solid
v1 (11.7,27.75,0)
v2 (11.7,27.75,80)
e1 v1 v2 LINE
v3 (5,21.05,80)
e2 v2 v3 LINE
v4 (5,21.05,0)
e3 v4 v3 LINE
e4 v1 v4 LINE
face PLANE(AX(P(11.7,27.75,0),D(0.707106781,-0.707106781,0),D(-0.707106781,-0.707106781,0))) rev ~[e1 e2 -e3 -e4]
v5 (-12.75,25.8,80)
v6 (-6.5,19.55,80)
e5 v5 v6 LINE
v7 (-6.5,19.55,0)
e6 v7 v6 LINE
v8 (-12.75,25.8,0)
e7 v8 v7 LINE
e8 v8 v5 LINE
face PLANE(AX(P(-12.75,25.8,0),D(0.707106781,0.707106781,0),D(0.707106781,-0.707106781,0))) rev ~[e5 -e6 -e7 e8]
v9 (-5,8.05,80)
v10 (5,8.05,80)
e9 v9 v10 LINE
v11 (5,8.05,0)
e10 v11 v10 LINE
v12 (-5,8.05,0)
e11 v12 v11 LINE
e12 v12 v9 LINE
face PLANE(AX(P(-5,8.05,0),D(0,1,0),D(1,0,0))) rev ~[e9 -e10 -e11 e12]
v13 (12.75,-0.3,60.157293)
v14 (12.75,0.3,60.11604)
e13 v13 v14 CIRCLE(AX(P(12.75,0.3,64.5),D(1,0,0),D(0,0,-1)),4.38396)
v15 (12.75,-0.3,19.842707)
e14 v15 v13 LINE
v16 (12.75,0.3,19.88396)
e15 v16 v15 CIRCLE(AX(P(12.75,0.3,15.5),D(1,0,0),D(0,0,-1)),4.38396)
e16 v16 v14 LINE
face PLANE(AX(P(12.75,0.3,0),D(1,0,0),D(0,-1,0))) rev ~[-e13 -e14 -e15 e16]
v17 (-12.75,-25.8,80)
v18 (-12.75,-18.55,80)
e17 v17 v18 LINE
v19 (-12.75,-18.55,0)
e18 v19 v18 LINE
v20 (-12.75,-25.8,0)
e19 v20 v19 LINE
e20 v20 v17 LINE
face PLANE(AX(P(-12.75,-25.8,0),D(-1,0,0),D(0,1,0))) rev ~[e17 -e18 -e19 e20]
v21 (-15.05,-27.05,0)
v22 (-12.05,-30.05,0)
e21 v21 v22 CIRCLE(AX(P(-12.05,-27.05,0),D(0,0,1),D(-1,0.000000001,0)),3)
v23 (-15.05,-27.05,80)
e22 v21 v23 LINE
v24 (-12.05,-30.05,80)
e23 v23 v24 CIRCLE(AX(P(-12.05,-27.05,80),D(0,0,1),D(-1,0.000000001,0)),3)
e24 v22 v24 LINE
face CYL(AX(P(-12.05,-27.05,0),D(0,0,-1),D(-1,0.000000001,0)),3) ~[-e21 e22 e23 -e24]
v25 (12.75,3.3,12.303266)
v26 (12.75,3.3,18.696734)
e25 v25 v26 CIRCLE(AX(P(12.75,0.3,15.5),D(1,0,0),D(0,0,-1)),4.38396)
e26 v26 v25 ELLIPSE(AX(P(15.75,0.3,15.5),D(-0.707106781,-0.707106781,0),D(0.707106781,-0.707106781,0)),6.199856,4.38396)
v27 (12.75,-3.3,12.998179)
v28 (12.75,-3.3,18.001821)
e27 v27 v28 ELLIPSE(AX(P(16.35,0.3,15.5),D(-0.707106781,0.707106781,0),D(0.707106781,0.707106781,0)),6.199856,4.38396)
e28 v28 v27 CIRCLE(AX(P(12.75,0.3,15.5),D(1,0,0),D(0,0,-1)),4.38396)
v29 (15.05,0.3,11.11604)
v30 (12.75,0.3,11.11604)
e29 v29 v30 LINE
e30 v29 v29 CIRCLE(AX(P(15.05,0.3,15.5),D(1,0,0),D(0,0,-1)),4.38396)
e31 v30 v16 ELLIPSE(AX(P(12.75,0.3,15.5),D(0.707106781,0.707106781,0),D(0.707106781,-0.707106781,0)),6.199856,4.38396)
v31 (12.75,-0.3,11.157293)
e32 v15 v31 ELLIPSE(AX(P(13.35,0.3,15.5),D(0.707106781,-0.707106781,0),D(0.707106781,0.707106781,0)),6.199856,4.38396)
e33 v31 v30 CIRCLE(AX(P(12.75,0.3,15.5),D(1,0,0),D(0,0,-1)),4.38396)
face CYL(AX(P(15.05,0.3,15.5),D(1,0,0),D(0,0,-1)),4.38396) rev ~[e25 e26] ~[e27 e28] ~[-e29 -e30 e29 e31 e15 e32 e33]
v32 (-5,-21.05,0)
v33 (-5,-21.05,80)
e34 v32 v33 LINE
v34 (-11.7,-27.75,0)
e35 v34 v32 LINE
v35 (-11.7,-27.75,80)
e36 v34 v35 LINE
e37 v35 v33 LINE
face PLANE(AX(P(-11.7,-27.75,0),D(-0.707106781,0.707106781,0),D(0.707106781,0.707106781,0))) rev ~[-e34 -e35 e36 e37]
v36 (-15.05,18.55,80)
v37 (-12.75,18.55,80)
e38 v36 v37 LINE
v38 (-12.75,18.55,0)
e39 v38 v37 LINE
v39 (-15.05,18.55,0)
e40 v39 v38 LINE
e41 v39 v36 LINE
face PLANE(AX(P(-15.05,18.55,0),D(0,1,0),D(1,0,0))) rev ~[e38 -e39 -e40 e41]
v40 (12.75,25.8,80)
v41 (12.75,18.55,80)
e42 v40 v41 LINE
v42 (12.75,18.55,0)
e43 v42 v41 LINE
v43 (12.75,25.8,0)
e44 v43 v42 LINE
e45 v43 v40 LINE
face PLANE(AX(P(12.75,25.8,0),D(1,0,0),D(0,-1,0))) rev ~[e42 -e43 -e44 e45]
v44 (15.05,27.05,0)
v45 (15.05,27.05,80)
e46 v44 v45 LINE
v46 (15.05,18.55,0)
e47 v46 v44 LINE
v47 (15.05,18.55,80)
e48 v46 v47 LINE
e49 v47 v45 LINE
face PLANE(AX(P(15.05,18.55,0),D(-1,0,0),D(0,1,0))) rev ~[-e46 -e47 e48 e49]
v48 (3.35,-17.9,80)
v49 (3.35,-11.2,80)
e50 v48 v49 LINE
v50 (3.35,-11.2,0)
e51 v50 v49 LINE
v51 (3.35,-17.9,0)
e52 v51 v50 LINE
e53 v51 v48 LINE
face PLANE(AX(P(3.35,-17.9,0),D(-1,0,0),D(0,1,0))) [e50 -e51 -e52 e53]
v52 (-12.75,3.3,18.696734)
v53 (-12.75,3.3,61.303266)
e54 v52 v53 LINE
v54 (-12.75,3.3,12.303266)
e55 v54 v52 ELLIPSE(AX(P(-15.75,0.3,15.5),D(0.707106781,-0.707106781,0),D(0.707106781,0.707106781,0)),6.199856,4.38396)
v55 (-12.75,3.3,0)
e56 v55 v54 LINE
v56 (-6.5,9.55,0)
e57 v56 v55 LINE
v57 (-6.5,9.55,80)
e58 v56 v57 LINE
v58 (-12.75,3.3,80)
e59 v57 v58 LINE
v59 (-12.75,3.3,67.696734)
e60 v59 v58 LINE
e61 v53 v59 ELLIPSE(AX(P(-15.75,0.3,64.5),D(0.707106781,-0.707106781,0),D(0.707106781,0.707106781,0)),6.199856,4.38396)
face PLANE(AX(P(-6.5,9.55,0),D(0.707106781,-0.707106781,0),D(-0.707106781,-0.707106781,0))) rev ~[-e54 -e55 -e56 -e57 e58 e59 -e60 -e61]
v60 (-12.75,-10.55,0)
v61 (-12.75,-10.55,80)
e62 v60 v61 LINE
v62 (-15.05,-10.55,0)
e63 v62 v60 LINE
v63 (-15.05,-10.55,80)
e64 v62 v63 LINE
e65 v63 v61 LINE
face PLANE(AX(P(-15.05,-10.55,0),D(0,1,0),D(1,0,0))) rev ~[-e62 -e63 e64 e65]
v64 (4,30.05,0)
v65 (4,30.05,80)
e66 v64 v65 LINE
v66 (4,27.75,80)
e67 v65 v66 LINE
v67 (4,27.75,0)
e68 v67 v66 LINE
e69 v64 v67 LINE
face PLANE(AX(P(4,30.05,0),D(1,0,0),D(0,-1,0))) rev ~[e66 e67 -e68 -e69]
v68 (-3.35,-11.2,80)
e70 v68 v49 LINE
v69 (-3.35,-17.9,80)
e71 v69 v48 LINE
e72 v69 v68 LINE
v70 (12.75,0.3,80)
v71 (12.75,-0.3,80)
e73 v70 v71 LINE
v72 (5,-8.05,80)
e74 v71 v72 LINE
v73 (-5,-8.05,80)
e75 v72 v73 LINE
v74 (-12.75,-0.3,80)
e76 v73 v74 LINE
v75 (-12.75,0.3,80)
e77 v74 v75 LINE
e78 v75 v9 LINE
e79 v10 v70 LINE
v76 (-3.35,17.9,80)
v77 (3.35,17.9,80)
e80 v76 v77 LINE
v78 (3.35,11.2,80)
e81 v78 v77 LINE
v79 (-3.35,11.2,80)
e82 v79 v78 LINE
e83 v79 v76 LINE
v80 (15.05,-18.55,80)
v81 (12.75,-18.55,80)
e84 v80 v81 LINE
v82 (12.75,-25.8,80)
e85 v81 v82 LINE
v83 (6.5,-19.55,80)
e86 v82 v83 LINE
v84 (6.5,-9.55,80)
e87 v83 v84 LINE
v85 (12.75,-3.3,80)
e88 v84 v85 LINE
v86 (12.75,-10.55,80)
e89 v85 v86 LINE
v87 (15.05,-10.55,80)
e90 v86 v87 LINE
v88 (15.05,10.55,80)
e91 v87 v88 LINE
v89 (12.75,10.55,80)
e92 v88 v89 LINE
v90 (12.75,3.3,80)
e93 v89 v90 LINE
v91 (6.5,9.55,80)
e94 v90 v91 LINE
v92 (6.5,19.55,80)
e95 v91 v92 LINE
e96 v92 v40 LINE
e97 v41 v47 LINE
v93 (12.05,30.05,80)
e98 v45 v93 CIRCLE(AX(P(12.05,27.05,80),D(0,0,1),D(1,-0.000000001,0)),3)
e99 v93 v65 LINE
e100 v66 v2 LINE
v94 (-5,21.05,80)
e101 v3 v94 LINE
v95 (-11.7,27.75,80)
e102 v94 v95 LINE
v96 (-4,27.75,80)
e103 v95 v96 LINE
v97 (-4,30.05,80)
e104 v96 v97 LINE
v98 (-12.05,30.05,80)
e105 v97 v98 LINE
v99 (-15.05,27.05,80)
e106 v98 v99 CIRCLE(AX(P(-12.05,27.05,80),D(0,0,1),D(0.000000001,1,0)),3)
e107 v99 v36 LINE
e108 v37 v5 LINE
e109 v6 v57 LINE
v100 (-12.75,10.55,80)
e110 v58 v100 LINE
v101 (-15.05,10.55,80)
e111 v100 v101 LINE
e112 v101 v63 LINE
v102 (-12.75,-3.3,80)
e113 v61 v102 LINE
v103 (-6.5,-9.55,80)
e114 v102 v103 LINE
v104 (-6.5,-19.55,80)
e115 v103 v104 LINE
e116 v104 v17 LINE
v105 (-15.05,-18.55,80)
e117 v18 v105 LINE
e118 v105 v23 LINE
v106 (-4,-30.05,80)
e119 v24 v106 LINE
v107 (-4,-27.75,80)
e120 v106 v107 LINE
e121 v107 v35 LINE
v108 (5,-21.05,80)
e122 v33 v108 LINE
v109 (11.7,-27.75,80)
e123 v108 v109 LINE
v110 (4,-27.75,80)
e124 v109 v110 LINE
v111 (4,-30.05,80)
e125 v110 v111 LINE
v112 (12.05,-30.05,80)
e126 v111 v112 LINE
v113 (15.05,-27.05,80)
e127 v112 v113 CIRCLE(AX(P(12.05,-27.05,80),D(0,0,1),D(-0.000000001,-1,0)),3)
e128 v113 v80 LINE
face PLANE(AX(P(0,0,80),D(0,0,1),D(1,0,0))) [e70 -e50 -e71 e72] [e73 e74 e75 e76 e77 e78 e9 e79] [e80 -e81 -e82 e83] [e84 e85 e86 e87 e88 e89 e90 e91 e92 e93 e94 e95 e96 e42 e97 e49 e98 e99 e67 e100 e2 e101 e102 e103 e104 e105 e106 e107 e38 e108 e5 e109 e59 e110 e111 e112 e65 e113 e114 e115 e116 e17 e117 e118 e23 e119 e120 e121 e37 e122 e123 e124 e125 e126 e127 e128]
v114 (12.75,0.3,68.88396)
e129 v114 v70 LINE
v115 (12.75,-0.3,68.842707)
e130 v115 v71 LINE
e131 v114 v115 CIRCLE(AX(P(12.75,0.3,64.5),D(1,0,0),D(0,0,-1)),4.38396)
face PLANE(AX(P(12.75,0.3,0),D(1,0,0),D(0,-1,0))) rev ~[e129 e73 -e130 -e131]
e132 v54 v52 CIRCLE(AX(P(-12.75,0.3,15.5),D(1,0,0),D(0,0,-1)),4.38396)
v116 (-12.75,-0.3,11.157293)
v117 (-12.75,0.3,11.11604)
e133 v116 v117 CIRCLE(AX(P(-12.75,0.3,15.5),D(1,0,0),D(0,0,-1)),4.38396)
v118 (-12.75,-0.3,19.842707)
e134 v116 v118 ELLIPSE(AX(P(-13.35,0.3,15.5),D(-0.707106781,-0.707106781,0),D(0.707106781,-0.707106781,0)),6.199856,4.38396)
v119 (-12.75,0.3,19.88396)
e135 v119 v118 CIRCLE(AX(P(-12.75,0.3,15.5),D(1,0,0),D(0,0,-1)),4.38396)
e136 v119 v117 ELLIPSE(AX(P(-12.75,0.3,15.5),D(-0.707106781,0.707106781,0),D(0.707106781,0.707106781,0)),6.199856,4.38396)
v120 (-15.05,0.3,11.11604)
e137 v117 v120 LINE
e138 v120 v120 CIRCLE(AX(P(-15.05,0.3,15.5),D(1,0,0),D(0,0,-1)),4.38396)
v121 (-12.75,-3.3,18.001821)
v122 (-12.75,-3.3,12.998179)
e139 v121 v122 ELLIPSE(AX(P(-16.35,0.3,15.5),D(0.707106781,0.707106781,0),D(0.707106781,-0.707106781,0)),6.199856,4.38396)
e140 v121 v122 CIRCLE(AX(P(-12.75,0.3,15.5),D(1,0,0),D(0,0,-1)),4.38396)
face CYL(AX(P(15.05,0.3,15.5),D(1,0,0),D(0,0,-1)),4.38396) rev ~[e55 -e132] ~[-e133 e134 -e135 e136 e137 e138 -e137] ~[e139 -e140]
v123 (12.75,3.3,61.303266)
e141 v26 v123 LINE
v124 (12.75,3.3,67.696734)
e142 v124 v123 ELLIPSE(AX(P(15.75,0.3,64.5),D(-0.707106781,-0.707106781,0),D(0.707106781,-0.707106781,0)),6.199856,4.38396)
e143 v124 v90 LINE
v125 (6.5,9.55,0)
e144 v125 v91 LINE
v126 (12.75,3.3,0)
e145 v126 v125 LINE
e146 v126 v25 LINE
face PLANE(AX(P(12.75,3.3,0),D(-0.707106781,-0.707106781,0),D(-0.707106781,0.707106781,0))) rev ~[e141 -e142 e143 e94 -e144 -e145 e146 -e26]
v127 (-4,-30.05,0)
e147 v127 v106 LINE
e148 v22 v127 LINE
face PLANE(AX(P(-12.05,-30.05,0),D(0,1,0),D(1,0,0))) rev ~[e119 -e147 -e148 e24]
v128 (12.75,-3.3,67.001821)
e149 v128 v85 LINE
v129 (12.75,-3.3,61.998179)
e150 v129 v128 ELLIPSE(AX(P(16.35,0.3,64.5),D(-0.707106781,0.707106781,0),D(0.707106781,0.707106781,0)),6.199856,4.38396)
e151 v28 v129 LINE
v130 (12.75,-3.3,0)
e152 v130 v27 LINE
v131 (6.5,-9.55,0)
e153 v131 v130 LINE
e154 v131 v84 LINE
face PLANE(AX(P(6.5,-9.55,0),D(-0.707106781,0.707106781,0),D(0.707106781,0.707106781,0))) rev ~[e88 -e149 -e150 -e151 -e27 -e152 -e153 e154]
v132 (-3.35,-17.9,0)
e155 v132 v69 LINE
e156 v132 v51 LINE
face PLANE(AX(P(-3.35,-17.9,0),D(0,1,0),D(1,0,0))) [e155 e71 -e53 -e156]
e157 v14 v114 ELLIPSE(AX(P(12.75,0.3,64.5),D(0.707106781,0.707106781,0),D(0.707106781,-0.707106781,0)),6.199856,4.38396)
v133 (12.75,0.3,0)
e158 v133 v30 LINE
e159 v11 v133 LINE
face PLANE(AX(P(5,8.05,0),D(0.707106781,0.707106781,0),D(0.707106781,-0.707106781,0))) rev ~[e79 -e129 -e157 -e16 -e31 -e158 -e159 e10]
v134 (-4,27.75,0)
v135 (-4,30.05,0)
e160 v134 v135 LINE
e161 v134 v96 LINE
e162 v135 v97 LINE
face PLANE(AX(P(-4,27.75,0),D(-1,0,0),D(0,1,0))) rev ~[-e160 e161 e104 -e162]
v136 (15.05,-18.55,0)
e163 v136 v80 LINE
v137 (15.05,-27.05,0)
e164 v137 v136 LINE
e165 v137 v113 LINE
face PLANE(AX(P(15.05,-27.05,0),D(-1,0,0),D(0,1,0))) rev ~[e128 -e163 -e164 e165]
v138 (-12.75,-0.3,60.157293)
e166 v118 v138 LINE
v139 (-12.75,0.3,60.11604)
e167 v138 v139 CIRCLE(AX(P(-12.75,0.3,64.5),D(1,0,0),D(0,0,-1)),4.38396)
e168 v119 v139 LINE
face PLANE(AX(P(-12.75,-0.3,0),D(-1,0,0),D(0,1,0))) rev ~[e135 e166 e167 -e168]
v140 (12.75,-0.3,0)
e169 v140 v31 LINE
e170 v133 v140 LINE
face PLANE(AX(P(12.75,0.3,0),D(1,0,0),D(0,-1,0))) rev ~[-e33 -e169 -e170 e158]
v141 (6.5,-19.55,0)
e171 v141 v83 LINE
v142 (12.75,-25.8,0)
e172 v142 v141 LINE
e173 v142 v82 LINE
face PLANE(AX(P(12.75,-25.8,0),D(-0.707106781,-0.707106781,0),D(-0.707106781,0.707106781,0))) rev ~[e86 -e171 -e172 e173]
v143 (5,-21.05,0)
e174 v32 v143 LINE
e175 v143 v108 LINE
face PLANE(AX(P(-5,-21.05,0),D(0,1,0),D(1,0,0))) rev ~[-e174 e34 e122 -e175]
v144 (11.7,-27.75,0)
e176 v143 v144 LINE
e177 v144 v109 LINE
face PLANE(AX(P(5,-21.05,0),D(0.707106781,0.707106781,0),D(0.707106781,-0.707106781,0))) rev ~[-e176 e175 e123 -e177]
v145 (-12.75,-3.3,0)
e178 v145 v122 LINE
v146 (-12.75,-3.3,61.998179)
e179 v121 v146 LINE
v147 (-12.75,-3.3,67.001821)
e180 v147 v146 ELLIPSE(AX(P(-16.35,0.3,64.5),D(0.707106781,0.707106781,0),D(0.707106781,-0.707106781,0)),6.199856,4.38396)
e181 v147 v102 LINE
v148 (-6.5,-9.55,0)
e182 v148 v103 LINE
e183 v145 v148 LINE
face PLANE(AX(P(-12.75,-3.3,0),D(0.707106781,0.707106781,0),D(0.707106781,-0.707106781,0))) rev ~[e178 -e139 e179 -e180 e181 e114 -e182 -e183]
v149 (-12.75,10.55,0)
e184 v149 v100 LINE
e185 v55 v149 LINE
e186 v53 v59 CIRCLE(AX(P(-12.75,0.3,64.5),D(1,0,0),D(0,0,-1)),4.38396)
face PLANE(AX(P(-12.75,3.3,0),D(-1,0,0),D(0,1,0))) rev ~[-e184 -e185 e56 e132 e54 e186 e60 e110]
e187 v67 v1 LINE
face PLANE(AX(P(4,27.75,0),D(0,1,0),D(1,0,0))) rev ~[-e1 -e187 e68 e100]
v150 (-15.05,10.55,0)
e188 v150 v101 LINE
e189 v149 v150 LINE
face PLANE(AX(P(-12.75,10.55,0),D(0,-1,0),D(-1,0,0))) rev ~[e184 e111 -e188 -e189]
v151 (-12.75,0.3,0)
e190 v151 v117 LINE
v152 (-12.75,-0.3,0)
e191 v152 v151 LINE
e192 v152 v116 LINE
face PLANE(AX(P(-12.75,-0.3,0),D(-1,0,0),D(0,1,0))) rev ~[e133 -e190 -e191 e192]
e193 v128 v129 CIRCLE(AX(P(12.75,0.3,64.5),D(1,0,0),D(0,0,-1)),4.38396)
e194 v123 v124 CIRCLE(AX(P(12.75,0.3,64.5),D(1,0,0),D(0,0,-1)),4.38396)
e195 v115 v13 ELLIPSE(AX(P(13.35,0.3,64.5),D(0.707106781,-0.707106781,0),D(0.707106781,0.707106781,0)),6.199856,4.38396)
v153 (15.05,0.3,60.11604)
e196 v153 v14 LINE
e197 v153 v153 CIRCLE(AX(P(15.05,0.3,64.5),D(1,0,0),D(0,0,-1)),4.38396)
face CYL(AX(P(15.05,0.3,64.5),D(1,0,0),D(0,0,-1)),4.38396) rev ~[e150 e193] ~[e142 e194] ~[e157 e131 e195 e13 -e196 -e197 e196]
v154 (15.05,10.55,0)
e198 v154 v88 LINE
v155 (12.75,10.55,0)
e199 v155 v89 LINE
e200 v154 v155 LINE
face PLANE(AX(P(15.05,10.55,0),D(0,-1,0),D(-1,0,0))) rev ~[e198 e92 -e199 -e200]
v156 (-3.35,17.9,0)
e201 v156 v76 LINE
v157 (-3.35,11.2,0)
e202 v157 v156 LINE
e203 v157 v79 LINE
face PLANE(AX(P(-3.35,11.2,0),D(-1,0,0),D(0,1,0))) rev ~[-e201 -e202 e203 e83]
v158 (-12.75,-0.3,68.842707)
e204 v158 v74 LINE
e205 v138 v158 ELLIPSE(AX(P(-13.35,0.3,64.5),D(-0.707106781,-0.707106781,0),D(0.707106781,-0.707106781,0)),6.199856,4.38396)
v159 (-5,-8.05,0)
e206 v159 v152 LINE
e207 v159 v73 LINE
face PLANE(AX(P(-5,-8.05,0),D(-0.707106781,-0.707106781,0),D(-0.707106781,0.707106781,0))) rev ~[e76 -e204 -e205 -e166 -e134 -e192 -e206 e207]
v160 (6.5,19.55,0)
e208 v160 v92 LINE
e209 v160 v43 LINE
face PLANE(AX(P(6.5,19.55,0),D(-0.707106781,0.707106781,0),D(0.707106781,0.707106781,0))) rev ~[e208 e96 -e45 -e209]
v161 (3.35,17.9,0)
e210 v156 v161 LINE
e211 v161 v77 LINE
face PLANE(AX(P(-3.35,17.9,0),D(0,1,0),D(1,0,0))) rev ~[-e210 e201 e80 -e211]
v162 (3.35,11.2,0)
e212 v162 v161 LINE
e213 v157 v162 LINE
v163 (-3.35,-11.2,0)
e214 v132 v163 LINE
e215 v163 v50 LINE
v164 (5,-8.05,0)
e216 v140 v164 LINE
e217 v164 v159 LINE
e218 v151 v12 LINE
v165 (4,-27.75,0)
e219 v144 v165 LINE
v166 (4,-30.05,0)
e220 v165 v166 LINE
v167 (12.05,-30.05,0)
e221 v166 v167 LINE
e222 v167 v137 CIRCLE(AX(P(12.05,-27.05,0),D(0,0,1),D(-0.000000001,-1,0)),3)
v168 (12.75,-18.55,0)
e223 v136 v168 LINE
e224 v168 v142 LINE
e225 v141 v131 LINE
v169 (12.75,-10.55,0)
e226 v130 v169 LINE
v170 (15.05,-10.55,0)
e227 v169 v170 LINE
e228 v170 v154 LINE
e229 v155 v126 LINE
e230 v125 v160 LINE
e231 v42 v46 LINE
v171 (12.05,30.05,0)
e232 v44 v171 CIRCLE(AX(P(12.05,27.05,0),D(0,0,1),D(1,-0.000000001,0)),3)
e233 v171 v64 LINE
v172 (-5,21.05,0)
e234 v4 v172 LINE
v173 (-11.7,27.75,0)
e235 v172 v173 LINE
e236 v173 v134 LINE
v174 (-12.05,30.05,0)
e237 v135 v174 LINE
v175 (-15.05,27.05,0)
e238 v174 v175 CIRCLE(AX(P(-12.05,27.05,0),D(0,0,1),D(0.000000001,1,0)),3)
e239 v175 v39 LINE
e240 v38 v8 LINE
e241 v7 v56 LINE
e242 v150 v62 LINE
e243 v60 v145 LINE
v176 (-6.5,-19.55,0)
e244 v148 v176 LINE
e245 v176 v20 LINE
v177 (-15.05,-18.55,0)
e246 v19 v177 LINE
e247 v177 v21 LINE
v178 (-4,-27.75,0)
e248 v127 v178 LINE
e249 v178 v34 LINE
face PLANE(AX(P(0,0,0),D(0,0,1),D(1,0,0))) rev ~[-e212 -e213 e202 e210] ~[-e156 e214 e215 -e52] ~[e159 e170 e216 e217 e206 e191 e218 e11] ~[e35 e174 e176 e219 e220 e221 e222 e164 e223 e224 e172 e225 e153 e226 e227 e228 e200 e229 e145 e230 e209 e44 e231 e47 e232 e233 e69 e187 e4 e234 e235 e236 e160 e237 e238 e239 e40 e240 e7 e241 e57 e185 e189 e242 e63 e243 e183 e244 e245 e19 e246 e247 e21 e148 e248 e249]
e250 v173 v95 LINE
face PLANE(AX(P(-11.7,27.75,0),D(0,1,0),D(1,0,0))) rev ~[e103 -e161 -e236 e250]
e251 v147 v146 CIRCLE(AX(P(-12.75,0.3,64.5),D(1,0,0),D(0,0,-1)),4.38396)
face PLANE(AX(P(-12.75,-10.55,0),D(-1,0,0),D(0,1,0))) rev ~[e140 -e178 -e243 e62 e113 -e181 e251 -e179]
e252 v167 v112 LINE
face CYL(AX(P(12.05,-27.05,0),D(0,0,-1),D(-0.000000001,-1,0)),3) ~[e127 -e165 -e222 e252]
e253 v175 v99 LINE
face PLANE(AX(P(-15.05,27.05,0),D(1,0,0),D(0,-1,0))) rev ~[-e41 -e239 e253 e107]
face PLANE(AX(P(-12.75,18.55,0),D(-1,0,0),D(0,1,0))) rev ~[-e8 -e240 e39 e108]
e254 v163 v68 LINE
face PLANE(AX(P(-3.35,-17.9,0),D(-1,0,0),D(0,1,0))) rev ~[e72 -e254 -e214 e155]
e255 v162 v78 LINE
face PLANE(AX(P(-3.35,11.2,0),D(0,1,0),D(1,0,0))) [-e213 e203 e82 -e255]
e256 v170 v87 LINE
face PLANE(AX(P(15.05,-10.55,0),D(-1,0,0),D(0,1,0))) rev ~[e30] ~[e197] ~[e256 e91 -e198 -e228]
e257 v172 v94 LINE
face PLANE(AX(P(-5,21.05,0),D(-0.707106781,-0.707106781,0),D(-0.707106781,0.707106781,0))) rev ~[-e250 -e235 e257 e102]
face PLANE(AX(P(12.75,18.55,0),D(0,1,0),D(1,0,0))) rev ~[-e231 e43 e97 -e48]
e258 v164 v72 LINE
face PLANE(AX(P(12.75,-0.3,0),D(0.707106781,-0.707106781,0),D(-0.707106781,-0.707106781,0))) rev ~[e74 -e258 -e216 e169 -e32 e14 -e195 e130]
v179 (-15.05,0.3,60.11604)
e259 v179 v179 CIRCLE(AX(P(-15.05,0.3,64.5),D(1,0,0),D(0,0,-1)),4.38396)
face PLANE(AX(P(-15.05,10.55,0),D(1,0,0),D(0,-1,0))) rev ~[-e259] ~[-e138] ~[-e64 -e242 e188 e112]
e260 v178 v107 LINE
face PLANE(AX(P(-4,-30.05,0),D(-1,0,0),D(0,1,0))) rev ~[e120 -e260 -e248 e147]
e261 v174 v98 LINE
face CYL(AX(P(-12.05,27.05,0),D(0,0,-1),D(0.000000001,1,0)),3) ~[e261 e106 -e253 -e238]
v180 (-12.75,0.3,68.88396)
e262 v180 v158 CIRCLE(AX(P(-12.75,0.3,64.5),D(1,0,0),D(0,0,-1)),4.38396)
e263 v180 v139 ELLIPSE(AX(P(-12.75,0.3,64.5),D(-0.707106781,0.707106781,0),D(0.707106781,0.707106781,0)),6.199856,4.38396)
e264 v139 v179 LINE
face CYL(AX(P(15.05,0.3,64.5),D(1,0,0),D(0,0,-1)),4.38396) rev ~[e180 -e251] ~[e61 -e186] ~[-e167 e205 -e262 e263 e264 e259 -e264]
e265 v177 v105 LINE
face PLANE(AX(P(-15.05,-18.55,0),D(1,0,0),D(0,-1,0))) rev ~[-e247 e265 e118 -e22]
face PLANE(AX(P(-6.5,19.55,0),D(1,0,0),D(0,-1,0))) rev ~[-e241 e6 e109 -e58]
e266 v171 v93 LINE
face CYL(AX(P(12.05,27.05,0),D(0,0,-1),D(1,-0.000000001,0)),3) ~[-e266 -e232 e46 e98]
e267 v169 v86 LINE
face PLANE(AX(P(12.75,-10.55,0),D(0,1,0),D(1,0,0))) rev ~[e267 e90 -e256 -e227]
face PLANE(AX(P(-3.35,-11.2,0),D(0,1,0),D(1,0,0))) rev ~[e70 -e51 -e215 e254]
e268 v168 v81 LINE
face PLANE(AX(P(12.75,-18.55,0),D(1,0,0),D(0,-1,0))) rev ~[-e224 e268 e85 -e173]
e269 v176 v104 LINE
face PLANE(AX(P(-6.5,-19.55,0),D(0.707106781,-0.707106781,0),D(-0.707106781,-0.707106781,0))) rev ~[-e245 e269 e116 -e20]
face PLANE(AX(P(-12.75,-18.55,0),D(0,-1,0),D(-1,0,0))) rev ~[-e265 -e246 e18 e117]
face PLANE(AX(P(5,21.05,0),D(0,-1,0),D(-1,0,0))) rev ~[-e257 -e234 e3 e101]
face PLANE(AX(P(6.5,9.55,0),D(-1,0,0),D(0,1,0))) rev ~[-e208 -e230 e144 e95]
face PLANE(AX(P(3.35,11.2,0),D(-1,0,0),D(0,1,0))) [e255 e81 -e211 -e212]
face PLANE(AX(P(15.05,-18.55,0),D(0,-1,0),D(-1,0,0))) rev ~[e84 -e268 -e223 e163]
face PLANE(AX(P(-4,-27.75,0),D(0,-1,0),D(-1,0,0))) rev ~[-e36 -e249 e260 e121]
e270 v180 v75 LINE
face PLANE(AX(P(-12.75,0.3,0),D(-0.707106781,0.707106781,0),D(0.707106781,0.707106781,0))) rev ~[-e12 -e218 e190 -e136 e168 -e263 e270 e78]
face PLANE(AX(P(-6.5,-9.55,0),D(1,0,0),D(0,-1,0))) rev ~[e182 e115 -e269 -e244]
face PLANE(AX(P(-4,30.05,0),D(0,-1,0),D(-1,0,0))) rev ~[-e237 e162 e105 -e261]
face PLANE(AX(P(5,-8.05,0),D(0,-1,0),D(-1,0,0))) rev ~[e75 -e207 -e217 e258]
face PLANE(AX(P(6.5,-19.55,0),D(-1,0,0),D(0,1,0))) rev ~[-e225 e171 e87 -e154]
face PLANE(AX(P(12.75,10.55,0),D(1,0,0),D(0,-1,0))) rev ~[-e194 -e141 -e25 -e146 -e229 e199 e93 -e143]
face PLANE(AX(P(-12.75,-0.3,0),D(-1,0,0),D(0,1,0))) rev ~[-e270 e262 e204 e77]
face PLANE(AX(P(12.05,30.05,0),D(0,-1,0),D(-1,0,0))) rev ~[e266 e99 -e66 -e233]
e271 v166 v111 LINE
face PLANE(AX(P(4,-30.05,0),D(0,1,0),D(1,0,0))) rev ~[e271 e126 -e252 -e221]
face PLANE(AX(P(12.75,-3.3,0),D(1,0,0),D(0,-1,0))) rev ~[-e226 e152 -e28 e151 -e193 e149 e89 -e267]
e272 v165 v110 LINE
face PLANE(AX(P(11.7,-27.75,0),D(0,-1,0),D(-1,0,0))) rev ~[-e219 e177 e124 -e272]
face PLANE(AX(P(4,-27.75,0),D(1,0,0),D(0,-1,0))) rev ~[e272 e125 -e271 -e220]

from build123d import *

# Parameters (mm, degrees)
CROQUIS1_W              = 6.7
CROQUIS1_H              = 6.7
SALIENTE_EXTRUIR1_DEPTH = 80
CROQUIS2_R              = 4.38396011
CORTAR_EXTRUIR1_DEPTH   = 34


with BuildPart() as part:
    # Croquis1 → Saliente-Extruir1 (new body)
    with BuildSketch(Plane.XY):
        with BuildLine():
            Line((-12.05, -30.05), (-4, -30.05))
            Line((-4, -30.05), (-4, -27.75))
            Line((-4, -27.75), (-11.7, -27.75))
            Line((-11.7, -27.75), (-5, -21.05))
            Line((-5, -21.05), (5, -21.05))
            Line((5, -21.05), (11.7, -27.75))
            Line((11.7, -27.75), (4, -27.75))
            Line((4, -27.75), (4, -30.05))
            Line((4, -30.05), (12.05, -30.05))
            ThreePointArc((12.05, -30.05), (14.171320344, -29.171320344), (15.05, -27.05))
            Line((15.05, -27.05), (15.05, -18.55))
            Line((15.05, -18.55), (12.75, -18.55))
            Line((12.75, -18.55), (12.75, -25.8))
            Line((12.75, -25.8), (6.5, -19.55))
            Line((6.5, -19.55), (6.5, -9.55))
            Line((6.5, -9.55), (12.75, -3.3))
            Line((12.75, -3.3), (12.75, -10.55))
            Line((12.75, -10.55), (15.05, -10.55))
            Line((15.05, -10.55), (15.05, 10.55))
            Line((15.05, 10.55), (12.75, 10.55))
            Line((12.75, 10.55), (12.75, 3.3))
            Line((12.75, 3.3), (6.5, 9.55))
            Line((6.5, 9.55), (6.5, 19.55))
            Line((6.5, 19.55), (12.75, 25.8))
            Line((12.75, 25.8), (12.75, 18.55))
            Line((12.75, 18.55), (15.05, 18.55))
            Line((15.05, 18.55), (15.05, 27.05))
            ThreePointArc((15.05, 27.05), (14.171320344, 29.171320344), (12.05, 30.05))
            Line((12.05, 30.05), (4, 30.05))
            Line((4, 30.05), (4, 27.75))
            Line((4, 27.75), (11.7, 27.75))
            Line((11.7, 27.75), (5, 21.05))
            Line((5, 21.05), (-5, 21.05))
            Line((-5, 21.05), (-11.7, 27.75))
            Line((-11.7, 27.75), (-4, 27.75))
            Line((-4, 27.75), (-4, 30.05))
            Line((-4, 30.05), (-12.05, 30.05))
            ThreePointArc((-12.05, 30.05), (-14.171320344, 29.171320344), (-15.05, 27.05))
            Line((-15.05, 27.05), (-15.05, 18.55))
            Line((-15.05, 18.55), (-12.75, 18.55))
            Line((-12.75, 18.55), (-12.75, 25.8))
            Line((-12.75, 25.8), (-6.5, 19.55))
            Line((-6.5, 19.55), (-6.5, 9.55))
            Line((-6.5, 9.55), (-12.75, 3.3))
            Line((-12.75, 3.3), (-12.75, 10.55))
            Line((-12.75, 10.55), (-15.05, 10.55))
            Line((-15.05, 10.55), (-15.05, -10.55))
            Line((-15.05, -10.55), (-12.75, -10.55))
            Line((-12.75, -10.55), (-12.75, -3.3))
            Line((-12.75, -3.3), (-6.5, -9.55))
            Line((-6.5, -9.55), (-6.5, -19.55))
            Line((-6.5, -19.55), (-12.75, -25.8))
            Line((-12.75, -25.8), (-12.75, -18.55))
            Line((-12.75, -18.55), (-15.05, -18.55))
            Line((-15.05, -18.55), (-15.05, -27.05))
            ThreePointArc((-15.05, -27.05), (-14.171320344, -29.171320344), (-12.05, -30.05))
        make_face()
        Polygon((-5, 8.05), (5, 8.05), (11.7, 1.35), (12.75, 0.3), (12.75, -0.3), (11.7, -1.35), (5, -8.05), (-5, -8.05), (-11.7, -1.35), (-12.75, -0.3), (-12.75, 0.3), (-11.7, 1.35), align=None, mode=Mode.SUBTRACT)
        with Locations((0, 14.55)):
            Rectangle(CROQUIS1_W, CROQUIS1_H, mode=Mode.SUBTRACT)
        with Locations((0, -14.55)):
            Rectangle(CROQUIS1_W, CROQUIS1_H, mode=Mode.SUBTRACT)
    extrude(amount=SALIENTE_EXTRUIR1_DEPTH)

    # Croquis2 → Cortar-Extruir1 (cut)
    with BuildSketch(Plane(origin=(15.05, 0, 0), x_dir=(0, 0, -1), z_dir=(1, 0, 0))):
        with Locations((-64.5, 0.3)):
            Circle(CROQUIS2_R)
        with Locations((-15.5, 0.3)):
            Circle(CROQUIS2_R)
    extrude(amount=-CORTAR_EXTRUIR1_DEPTH, mode=Mode.SUBTRACT)


solid = part.part
